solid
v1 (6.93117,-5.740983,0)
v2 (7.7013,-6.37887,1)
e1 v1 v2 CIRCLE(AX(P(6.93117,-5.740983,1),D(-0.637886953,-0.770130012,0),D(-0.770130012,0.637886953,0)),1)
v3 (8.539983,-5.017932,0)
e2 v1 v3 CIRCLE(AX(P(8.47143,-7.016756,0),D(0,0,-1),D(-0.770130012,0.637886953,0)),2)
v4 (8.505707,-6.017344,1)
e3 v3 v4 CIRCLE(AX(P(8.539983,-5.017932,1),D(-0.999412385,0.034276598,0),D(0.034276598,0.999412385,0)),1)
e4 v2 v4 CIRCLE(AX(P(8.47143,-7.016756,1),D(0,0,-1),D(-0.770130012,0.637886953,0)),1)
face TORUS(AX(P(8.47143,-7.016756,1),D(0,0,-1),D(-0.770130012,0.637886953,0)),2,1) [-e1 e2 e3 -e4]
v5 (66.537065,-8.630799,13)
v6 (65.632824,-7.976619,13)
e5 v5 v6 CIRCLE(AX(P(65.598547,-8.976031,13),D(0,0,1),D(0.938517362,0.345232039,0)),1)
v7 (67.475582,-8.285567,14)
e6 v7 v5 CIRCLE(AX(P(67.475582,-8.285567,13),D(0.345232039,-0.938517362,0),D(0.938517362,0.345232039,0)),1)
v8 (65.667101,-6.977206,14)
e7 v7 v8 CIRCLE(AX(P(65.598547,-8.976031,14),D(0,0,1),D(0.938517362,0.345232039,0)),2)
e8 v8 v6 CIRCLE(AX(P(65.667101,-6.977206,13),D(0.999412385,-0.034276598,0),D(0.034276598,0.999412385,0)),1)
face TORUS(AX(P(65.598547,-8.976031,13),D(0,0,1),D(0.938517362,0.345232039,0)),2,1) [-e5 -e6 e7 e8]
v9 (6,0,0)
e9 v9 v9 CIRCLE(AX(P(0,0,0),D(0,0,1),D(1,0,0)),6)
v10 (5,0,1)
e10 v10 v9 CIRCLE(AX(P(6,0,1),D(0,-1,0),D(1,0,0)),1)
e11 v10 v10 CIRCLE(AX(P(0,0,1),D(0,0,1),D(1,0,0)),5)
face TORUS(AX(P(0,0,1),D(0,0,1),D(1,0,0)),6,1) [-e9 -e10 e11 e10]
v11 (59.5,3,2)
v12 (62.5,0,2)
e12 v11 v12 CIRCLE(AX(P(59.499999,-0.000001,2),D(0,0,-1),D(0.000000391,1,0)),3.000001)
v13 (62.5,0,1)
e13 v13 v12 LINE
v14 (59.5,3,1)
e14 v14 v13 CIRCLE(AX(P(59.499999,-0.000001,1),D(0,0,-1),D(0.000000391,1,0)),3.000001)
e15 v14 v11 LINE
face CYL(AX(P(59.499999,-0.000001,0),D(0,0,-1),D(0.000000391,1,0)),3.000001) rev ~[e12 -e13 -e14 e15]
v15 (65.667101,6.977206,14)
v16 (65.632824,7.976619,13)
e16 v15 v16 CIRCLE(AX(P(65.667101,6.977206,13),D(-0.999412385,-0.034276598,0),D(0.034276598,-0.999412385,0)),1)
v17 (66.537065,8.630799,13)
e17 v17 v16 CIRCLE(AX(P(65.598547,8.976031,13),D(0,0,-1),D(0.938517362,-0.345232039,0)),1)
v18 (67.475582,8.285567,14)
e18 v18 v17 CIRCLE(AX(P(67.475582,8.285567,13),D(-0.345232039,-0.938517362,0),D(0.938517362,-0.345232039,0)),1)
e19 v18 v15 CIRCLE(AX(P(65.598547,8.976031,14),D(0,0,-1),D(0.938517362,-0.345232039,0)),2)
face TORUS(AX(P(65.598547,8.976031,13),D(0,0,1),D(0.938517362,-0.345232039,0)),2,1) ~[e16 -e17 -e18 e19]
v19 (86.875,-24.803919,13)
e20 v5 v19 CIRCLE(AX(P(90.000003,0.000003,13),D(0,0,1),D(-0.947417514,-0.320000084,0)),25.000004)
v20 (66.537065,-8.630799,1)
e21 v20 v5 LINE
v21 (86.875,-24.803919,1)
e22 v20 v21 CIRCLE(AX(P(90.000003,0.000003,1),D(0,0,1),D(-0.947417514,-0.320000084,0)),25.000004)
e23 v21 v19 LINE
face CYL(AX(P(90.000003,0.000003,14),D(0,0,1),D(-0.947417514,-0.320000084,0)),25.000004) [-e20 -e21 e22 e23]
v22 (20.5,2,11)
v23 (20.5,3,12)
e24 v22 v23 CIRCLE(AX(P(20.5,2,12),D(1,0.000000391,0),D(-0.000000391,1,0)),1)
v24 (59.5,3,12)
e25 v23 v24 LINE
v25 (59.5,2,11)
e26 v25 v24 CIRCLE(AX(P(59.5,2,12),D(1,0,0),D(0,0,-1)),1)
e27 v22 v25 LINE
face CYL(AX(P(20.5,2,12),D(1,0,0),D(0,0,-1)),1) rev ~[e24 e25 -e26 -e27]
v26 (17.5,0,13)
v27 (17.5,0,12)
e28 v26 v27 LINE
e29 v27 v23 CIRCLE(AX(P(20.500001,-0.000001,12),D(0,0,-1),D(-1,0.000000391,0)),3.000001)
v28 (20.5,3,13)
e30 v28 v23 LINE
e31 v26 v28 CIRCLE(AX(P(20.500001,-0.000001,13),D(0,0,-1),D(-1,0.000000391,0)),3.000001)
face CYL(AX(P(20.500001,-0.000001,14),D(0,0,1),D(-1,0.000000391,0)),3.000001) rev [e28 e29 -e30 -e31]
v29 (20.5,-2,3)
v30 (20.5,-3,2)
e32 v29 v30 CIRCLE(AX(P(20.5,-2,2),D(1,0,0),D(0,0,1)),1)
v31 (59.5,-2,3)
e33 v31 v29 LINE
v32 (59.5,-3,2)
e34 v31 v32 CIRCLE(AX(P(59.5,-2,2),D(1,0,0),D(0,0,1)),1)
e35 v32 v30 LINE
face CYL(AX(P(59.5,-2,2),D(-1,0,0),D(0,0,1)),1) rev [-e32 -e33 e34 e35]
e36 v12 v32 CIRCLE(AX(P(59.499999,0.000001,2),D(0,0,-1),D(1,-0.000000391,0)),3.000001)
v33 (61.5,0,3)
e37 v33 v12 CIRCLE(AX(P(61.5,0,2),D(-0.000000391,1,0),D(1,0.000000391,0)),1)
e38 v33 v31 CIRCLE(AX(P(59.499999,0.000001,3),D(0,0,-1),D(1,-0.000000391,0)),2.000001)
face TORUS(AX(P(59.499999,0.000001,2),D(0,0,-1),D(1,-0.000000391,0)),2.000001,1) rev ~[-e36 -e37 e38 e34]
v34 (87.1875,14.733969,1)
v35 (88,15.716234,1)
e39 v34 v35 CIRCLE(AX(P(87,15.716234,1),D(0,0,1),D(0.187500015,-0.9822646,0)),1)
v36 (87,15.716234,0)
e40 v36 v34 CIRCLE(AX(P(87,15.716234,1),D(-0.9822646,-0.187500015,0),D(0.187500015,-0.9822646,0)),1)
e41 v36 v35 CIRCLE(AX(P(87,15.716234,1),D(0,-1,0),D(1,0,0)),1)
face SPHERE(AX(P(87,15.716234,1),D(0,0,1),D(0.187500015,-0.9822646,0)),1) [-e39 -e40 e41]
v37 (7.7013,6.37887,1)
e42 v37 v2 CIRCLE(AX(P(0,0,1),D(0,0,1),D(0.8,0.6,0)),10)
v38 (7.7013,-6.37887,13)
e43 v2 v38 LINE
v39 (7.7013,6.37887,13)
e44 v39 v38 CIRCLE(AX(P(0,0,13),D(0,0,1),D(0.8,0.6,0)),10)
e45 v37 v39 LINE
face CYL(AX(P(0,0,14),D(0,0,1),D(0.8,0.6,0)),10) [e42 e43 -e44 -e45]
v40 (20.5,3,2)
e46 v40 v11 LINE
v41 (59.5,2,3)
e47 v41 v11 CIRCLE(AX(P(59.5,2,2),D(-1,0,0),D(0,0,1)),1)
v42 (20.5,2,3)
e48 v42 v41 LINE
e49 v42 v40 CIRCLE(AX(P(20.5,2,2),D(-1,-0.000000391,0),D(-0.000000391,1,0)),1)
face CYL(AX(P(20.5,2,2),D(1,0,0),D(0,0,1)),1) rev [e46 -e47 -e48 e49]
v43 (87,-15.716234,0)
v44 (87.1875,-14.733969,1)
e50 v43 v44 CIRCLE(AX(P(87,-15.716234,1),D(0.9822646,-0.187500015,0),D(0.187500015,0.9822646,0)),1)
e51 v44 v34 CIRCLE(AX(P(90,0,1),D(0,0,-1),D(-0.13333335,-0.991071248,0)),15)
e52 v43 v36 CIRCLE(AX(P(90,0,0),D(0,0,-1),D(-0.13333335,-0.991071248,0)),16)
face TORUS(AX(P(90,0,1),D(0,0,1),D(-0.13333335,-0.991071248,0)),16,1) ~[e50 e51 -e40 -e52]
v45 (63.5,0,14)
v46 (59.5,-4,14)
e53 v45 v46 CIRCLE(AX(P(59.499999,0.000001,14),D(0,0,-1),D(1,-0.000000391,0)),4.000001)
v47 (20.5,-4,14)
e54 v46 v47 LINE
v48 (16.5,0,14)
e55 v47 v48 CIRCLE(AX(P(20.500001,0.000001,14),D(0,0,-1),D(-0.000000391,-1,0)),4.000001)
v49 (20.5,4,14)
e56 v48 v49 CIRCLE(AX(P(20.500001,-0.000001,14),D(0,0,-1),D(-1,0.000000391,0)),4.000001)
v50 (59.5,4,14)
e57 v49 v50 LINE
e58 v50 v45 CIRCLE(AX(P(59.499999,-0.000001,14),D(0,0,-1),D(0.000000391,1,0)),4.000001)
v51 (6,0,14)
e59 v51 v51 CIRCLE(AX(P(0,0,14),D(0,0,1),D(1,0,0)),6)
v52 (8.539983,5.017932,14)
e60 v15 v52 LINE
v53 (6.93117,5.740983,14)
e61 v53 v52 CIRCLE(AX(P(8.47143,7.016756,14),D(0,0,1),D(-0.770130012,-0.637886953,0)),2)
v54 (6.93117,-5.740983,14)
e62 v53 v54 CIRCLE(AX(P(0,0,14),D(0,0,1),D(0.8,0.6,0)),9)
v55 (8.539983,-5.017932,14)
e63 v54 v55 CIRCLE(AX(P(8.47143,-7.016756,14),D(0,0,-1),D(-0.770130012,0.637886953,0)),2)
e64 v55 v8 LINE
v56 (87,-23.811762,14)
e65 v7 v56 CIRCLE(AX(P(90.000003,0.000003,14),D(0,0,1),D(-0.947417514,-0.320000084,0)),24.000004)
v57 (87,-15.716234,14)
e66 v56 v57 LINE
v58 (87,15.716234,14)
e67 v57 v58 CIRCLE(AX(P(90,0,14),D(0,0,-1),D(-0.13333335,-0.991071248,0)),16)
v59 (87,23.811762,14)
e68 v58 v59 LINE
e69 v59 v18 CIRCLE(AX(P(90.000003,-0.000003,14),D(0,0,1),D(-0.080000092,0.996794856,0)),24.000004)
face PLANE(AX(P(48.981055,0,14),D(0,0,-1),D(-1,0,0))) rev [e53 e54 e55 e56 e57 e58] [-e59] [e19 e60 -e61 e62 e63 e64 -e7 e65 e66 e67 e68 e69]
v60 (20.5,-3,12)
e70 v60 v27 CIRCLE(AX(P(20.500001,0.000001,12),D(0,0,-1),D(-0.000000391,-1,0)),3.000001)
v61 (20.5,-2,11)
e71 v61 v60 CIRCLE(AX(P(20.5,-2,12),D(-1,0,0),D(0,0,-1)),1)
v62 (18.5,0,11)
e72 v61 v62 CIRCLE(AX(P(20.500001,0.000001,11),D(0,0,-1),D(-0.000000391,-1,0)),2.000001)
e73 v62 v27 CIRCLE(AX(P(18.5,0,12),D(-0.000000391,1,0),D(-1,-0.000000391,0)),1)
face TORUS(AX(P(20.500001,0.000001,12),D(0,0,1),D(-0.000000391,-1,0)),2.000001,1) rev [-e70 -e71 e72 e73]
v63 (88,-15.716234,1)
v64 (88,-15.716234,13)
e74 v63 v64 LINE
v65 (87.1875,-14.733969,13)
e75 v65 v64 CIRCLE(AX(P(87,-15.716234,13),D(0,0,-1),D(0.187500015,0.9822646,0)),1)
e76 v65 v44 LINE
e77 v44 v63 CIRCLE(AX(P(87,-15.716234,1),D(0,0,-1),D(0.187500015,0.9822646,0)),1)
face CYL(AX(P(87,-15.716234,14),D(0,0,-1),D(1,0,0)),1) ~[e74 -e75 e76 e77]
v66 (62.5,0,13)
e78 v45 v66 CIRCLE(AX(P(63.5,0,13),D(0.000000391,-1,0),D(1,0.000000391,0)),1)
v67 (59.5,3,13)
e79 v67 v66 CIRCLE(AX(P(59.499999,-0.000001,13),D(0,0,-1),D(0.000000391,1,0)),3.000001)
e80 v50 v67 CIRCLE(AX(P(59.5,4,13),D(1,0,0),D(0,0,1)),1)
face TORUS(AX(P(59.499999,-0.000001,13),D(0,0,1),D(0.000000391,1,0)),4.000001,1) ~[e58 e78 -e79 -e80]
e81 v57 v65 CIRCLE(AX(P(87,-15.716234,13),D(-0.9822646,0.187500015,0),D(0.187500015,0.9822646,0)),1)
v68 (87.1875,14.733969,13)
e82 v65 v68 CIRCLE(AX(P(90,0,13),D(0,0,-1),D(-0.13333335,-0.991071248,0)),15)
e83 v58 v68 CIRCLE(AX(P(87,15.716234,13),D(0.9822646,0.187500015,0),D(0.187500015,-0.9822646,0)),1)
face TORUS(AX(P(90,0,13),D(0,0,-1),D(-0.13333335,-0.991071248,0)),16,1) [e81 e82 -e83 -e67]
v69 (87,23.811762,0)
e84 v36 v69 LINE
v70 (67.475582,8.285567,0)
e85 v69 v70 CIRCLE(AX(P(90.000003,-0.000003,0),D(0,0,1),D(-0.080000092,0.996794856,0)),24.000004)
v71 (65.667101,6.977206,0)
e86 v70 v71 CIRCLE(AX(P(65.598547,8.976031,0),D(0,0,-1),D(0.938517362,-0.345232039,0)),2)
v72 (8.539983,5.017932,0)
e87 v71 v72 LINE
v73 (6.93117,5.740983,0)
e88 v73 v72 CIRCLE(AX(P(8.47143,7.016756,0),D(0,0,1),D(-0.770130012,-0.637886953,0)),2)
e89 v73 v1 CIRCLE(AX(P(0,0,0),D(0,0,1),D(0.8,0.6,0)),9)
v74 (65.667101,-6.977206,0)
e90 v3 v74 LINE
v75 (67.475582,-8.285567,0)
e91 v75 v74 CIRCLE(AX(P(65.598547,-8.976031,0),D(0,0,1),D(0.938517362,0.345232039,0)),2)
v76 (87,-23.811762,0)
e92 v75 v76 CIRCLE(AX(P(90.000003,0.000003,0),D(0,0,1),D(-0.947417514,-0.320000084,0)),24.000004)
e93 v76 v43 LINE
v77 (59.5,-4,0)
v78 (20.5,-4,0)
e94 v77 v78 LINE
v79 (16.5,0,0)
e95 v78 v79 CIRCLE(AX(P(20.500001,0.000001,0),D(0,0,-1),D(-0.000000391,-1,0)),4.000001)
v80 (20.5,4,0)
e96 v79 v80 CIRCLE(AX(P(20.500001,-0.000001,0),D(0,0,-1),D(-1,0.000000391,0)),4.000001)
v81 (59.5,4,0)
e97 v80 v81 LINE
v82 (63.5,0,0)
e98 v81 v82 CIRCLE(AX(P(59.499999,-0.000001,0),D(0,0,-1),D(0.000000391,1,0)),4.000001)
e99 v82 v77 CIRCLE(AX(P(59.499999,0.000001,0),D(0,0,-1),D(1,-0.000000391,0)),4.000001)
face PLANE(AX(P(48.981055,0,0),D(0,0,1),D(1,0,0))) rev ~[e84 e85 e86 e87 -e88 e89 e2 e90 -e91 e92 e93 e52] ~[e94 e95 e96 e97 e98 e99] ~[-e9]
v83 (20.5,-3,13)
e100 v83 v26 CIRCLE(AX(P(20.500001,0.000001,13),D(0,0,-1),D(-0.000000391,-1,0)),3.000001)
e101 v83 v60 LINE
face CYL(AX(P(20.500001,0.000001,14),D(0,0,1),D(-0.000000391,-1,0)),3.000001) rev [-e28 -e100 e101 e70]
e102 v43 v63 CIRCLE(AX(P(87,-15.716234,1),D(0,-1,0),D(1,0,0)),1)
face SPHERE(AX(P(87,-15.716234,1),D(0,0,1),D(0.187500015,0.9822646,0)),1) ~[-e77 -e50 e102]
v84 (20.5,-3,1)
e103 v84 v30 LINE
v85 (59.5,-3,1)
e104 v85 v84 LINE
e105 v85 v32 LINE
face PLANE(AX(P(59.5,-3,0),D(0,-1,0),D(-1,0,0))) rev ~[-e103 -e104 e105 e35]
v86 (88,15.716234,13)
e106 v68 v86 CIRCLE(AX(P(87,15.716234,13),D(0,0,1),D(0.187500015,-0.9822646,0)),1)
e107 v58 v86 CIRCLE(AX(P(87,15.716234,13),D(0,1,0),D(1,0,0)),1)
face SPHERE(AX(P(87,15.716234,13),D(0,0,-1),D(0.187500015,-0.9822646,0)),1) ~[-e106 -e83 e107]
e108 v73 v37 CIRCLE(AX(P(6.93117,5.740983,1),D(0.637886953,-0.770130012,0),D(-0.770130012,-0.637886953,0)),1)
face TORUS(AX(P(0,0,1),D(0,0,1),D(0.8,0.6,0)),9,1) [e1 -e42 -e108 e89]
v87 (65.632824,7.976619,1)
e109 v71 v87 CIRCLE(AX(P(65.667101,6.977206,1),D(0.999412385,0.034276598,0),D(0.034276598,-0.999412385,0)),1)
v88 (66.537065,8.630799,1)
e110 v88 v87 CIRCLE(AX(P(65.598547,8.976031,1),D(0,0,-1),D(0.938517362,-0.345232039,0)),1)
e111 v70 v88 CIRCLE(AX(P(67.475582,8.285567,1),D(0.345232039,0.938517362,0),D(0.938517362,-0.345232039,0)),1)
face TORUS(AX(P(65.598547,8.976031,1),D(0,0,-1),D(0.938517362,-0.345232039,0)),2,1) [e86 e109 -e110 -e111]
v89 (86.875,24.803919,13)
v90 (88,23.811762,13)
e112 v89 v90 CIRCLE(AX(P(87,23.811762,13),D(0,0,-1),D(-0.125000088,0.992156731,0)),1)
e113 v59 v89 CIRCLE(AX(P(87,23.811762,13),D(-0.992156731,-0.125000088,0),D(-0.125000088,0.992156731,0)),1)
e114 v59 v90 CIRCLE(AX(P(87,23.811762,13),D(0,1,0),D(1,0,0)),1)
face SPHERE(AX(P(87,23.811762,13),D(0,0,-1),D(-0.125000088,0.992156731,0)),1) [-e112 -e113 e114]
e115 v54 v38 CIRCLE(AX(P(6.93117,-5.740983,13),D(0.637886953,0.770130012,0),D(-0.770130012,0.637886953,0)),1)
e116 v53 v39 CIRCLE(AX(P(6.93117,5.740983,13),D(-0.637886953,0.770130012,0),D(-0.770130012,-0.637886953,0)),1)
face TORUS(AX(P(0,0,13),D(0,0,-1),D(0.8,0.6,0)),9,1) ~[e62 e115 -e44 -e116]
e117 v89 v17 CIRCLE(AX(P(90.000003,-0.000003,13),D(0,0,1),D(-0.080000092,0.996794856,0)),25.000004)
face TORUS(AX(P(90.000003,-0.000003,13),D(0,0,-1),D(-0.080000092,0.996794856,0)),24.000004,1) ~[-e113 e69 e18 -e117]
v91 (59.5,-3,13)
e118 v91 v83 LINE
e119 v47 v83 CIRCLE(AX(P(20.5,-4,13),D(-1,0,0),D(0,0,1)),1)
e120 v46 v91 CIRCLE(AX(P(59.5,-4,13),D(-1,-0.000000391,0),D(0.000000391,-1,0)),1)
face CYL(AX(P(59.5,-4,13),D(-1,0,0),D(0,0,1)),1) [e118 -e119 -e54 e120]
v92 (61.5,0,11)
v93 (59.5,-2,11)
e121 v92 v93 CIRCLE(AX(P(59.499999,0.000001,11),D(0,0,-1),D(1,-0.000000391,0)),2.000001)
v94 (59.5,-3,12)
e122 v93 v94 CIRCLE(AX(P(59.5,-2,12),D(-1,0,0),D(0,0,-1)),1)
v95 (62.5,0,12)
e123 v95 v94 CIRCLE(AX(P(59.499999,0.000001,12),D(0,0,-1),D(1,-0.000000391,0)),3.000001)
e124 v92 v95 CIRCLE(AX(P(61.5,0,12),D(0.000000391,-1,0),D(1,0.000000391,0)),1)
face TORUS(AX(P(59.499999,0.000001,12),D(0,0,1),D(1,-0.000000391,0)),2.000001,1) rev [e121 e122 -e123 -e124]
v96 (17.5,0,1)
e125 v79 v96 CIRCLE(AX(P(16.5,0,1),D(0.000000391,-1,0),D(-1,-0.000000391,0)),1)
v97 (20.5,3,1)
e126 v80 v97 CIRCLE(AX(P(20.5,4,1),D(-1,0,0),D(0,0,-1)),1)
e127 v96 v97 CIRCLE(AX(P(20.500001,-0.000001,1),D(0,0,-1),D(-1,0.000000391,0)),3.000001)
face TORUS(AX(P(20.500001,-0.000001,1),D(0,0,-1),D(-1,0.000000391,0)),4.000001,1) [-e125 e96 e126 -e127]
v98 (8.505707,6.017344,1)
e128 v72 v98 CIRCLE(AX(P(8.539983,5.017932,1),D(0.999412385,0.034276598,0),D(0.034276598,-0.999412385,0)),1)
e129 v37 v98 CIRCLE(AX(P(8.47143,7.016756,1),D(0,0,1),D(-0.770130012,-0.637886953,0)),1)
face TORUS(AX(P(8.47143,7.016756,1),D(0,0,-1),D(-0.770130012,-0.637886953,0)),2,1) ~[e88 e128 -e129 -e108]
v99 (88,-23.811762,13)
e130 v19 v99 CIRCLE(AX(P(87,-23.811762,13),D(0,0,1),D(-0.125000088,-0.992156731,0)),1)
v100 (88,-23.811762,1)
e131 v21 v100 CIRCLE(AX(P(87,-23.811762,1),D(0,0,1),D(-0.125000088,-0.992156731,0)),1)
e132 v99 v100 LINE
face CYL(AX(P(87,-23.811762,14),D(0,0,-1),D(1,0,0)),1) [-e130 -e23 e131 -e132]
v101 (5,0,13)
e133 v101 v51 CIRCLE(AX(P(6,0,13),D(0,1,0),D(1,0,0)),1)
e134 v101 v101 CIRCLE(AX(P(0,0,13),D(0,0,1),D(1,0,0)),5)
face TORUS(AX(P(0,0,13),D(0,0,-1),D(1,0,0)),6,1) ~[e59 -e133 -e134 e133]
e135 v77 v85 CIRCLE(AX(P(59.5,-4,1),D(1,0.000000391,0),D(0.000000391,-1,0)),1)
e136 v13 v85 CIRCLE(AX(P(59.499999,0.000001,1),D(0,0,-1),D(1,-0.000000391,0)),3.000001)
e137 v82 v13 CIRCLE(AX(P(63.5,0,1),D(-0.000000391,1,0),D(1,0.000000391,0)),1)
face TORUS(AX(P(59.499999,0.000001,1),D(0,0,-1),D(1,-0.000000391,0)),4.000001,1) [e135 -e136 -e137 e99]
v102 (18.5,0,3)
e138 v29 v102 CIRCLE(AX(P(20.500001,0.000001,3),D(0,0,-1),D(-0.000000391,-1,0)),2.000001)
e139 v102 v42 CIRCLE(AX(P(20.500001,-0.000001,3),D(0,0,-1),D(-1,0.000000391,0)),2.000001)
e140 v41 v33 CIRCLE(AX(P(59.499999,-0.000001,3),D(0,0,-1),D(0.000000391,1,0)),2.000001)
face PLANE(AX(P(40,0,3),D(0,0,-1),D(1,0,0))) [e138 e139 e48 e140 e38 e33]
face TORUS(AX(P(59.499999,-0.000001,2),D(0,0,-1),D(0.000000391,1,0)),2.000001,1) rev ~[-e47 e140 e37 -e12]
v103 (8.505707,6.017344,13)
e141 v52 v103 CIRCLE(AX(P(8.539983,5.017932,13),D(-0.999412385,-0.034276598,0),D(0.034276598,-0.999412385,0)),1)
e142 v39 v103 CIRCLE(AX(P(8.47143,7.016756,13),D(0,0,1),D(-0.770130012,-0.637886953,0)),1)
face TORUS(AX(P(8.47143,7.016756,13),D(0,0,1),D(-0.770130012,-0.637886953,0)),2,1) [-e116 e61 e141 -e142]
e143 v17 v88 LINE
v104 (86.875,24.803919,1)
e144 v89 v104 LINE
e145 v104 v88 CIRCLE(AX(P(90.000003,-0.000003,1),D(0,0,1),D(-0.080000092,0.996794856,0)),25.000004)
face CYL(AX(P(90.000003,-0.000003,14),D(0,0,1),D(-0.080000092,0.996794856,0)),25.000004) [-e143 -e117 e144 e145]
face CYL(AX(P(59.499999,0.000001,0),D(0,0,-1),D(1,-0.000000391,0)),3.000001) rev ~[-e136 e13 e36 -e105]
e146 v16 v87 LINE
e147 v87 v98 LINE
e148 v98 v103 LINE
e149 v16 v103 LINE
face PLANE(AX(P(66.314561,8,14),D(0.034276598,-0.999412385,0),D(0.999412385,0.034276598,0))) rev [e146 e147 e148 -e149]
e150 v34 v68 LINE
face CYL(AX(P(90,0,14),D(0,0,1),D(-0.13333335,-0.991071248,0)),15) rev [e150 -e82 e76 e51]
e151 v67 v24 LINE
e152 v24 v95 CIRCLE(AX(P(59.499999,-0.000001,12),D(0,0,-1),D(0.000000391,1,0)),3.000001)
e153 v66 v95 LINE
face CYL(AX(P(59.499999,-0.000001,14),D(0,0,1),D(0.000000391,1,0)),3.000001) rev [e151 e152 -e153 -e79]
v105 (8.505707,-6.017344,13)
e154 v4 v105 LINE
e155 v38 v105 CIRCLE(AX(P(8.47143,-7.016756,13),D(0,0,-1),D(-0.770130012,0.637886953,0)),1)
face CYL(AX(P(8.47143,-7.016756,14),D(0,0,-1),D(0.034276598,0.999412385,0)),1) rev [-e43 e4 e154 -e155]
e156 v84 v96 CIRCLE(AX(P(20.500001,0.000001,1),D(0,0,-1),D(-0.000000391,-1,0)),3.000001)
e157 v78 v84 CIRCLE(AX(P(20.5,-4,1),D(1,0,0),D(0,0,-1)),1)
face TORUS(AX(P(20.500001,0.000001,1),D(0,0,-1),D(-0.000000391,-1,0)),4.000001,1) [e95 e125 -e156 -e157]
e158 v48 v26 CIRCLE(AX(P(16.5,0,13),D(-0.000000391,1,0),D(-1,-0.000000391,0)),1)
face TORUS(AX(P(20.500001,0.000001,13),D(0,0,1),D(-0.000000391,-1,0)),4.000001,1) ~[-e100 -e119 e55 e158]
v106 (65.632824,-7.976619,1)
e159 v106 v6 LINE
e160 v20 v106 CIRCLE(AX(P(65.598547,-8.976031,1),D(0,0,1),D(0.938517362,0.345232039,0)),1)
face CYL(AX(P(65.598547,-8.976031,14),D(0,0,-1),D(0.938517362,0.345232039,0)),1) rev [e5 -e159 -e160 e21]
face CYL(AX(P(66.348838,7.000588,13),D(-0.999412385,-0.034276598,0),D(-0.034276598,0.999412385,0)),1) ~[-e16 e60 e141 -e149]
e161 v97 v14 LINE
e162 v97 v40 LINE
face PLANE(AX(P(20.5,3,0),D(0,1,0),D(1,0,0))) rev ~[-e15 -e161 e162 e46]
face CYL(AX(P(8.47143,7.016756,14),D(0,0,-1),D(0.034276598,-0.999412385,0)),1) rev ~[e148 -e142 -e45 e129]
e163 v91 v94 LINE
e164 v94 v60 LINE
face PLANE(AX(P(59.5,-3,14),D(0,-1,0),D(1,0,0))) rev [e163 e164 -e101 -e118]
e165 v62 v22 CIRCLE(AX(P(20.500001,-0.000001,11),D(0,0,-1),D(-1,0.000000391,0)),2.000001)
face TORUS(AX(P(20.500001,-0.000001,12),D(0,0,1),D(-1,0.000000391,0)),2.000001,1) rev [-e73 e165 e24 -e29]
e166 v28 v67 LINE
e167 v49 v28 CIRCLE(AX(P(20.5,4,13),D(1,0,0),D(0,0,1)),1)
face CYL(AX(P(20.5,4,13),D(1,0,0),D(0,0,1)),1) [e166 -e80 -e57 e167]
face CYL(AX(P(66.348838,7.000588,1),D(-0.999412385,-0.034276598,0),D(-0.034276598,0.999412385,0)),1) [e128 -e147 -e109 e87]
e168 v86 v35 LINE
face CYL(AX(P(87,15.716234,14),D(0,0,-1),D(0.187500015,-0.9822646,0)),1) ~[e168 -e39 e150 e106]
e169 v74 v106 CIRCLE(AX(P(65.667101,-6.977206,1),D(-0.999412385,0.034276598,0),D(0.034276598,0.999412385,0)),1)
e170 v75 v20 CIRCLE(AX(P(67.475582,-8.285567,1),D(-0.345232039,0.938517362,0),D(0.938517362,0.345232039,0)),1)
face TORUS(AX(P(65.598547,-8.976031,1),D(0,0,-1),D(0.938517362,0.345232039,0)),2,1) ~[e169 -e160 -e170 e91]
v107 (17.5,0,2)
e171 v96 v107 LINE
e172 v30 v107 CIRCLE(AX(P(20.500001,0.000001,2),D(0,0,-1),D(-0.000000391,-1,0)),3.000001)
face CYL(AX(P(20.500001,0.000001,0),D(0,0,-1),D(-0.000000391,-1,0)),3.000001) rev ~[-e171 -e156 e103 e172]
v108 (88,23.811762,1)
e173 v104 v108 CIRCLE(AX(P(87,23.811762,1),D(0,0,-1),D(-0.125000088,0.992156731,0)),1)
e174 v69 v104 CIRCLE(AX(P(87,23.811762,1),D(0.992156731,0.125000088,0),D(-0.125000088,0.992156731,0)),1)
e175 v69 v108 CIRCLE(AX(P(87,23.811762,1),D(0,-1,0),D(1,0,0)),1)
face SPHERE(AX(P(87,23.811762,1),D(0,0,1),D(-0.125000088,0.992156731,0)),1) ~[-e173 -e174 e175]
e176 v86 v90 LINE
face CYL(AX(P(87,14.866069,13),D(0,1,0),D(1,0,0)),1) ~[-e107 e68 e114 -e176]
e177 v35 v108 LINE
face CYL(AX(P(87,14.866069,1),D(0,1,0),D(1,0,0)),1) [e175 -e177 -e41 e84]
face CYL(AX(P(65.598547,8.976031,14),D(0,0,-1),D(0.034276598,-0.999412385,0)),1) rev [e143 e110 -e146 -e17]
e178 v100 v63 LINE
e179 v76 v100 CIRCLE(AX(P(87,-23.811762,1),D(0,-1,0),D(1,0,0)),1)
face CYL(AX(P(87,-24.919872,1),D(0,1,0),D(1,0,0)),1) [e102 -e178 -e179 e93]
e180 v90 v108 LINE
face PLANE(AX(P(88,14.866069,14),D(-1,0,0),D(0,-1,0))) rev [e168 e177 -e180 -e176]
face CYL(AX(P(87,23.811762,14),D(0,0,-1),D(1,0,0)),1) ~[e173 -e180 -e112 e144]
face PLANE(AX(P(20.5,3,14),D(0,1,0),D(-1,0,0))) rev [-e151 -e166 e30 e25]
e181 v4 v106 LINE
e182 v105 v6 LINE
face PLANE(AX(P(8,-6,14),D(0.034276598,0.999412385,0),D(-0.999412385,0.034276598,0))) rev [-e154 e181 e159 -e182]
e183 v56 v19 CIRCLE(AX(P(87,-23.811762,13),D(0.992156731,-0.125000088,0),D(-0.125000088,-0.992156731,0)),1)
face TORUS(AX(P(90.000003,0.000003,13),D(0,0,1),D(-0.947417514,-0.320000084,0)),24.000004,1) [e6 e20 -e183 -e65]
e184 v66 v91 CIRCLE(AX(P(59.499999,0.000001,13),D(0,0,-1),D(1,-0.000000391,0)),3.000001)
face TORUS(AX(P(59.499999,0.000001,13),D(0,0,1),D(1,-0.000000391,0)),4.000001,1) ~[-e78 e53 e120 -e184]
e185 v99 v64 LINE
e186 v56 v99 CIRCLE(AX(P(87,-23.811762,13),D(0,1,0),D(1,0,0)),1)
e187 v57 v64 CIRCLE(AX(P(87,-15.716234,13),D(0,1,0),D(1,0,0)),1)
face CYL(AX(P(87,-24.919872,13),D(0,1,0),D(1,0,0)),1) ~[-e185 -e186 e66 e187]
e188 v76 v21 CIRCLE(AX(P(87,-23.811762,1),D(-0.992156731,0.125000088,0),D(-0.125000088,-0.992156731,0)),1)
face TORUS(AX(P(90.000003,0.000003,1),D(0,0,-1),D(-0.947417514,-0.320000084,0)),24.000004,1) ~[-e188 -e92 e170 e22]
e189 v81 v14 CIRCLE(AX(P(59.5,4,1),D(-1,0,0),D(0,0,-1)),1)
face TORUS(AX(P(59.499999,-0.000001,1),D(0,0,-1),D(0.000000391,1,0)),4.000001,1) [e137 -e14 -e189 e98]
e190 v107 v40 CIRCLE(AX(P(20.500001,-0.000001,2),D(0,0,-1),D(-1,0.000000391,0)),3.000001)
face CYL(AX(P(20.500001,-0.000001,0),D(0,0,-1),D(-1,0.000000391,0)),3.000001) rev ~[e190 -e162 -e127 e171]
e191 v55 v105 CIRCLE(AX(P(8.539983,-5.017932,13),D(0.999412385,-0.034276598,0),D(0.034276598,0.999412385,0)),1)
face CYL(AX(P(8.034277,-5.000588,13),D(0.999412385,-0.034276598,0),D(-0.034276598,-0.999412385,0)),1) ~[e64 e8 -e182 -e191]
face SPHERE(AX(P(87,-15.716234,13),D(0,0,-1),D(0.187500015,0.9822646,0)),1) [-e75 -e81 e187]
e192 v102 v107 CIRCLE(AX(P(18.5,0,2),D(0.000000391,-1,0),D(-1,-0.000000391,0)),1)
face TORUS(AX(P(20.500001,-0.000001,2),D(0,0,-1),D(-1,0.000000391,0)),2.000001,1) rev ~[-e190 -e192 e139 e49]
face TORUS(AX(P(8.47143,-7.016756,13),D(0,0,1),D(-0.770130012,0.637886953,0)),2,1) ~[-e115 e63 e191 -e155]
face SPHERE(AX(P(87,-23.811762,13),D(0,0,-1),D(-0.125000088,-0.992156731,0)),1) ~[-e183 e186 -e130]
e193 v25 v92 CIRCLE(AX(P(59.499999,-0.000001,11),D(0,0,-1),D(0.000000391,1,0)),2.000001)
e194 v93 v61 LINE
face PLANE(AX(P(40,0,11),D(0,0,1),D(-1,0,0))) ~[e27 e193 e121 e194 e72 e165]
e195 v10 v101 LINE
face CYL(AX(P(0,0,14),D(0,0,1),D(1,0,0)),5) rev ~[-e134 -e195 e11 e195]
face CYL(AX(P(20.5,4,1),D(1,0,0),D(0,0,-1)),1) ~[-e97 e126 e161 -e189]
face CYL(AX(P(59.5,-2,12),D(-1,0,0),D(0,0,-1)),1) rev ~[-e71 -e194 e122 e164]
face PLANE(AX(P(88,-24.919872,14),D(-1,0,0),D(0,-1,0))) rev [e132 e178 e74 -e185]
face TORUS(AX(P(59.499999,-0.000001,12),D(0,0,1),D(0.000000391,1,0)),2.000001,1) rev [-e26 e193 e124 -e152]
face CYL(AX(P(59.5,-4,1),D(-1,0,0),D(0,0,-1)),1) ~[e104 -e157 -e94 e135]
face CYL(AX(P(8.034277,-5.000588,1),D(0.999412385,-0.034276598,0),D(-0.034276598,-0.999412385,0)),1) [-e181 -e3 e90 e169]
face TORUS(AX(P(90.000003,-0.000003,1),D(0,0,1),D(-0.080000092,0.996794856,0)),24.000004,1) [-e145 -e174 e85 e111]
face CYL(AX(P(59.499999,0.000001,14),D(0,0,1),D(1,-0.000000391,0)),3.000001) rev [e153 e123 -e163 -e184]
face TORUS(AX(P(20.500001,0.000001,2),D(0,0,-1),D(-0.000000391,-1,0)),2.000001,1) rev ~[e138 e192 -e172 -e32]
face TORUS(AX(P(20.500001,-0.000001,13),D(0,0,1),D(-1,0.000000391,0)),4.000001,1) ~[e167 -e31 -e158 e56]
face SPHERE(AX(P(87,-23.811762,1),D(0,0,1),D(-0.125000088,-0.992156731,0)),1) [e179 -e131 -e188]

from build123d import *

# Parameters (mm, degrees)
F0_R     = 5
F1_DEPTH = 7
F2_R     = 5
F3_DEPTH = 3
F4_R     = 1


with BuildPart() as f1:
    # F0 (on Top) → F1 (new body)
    with BuildSketch(Plane.XY):
        with BuildLine():
            Line((66.314561, 8), (8, 6))
            ThreePointArc((8, 6), (-10, 0), (8, -6))
            Line((8, -6), (66.314561, -8))
            ThreePointArc((66.314561, -8), (74.62125, -19.710252), (88, -24.919872))
            Line((88, -24.919872), (88, -14.866069))
            ThreePointArc((88, -14.866069), (75, 0), (88, 14.866069))
            Line((88, 14.866069), (88, 24.919872))
            ThreePointArc((88, 24.919872), (74.62125, 19.710252), (66.314561, 8))
        make_face()
        Circle(F0_R, mode=Mode.SUBTRACT)
    extrude(amount=F1_DEPTH)

    # F2 (on face) → F3 (cut)
    with BuildSketch(Plane(origin=(0, 0, 0), x_dir=(1, 0, 0), z_dir=(0, 0, -1))):
        Circle(F2_R)
        with BuildLine():
            ThreePointArc((62.5, 0), (61.62132, 2.12132), (59.5, 3))
            Line((59.5, 3), (20.5, 3))
            ThreePointArc((20.5, 3), (18.37868, 2.12132), (17.5, 0))
            ThreePointArc((17.5, 0), (18.37868, -2.12132), (20.5, -3))
            Line((20.5, -3), (59.5, -3))
            ThreePointArc((59.5, -3), (61.62132, -2.12132), (62.5, 0))
        make_face()
    extrude(amount=-F3_DEPTH, mode=Mode.SUBTRACT)

    # F4
    f4_edges = [f1.edges().sort_by_distance(p)[0] for p in [
        (-10, 0, 0),
        (74.62125, 19.710252, 0),
        (74.62125, -19.710252, 0),
        (37.157281, -7, 0),
        (-5, 0, 0),
        (75, 0, 0),
        (37.157281, 7, 0),
        (40, 3, 0),
        (40, -3, 3),
        (40, -3, 0),
        (17.5, 0, 0),
        (88, 19.89297, 0),
        (66.314561, 8, 3.5),
        (8, 6, 3.5),
        (66.314561, -8, 3.5),
        (88, 14.866069, 3.5),
        (88, 24.919872, 3.5),
        (88, -19.89297, 0),
        (88, -14.866069, 3.5),
        (8, -6, 3.5),
        (88, -24.919872, 3.5),
        (20.5, 3, 1.5),
        (20.5, -3, 1.5),
        (17.5, 0, 3),
        (40, 3, 3),
        (62.5, 0, 0),
        (59.5, 3, 1.5),
        (62.5, 0, 3),
        (59.5, -3, 1.5),
    ]]
    fillet(f4_edges, radius=F4_R)

    # F5: F1 across face


with BuildPart() as f1_1:
    add(f1.part)
    add(f1.part.mirror(Plane(origin=(46.700254, 0, 7), x_dir=(1, 0, 0), z_dir=(0, 0, 1))))


solid = f1_1.part
